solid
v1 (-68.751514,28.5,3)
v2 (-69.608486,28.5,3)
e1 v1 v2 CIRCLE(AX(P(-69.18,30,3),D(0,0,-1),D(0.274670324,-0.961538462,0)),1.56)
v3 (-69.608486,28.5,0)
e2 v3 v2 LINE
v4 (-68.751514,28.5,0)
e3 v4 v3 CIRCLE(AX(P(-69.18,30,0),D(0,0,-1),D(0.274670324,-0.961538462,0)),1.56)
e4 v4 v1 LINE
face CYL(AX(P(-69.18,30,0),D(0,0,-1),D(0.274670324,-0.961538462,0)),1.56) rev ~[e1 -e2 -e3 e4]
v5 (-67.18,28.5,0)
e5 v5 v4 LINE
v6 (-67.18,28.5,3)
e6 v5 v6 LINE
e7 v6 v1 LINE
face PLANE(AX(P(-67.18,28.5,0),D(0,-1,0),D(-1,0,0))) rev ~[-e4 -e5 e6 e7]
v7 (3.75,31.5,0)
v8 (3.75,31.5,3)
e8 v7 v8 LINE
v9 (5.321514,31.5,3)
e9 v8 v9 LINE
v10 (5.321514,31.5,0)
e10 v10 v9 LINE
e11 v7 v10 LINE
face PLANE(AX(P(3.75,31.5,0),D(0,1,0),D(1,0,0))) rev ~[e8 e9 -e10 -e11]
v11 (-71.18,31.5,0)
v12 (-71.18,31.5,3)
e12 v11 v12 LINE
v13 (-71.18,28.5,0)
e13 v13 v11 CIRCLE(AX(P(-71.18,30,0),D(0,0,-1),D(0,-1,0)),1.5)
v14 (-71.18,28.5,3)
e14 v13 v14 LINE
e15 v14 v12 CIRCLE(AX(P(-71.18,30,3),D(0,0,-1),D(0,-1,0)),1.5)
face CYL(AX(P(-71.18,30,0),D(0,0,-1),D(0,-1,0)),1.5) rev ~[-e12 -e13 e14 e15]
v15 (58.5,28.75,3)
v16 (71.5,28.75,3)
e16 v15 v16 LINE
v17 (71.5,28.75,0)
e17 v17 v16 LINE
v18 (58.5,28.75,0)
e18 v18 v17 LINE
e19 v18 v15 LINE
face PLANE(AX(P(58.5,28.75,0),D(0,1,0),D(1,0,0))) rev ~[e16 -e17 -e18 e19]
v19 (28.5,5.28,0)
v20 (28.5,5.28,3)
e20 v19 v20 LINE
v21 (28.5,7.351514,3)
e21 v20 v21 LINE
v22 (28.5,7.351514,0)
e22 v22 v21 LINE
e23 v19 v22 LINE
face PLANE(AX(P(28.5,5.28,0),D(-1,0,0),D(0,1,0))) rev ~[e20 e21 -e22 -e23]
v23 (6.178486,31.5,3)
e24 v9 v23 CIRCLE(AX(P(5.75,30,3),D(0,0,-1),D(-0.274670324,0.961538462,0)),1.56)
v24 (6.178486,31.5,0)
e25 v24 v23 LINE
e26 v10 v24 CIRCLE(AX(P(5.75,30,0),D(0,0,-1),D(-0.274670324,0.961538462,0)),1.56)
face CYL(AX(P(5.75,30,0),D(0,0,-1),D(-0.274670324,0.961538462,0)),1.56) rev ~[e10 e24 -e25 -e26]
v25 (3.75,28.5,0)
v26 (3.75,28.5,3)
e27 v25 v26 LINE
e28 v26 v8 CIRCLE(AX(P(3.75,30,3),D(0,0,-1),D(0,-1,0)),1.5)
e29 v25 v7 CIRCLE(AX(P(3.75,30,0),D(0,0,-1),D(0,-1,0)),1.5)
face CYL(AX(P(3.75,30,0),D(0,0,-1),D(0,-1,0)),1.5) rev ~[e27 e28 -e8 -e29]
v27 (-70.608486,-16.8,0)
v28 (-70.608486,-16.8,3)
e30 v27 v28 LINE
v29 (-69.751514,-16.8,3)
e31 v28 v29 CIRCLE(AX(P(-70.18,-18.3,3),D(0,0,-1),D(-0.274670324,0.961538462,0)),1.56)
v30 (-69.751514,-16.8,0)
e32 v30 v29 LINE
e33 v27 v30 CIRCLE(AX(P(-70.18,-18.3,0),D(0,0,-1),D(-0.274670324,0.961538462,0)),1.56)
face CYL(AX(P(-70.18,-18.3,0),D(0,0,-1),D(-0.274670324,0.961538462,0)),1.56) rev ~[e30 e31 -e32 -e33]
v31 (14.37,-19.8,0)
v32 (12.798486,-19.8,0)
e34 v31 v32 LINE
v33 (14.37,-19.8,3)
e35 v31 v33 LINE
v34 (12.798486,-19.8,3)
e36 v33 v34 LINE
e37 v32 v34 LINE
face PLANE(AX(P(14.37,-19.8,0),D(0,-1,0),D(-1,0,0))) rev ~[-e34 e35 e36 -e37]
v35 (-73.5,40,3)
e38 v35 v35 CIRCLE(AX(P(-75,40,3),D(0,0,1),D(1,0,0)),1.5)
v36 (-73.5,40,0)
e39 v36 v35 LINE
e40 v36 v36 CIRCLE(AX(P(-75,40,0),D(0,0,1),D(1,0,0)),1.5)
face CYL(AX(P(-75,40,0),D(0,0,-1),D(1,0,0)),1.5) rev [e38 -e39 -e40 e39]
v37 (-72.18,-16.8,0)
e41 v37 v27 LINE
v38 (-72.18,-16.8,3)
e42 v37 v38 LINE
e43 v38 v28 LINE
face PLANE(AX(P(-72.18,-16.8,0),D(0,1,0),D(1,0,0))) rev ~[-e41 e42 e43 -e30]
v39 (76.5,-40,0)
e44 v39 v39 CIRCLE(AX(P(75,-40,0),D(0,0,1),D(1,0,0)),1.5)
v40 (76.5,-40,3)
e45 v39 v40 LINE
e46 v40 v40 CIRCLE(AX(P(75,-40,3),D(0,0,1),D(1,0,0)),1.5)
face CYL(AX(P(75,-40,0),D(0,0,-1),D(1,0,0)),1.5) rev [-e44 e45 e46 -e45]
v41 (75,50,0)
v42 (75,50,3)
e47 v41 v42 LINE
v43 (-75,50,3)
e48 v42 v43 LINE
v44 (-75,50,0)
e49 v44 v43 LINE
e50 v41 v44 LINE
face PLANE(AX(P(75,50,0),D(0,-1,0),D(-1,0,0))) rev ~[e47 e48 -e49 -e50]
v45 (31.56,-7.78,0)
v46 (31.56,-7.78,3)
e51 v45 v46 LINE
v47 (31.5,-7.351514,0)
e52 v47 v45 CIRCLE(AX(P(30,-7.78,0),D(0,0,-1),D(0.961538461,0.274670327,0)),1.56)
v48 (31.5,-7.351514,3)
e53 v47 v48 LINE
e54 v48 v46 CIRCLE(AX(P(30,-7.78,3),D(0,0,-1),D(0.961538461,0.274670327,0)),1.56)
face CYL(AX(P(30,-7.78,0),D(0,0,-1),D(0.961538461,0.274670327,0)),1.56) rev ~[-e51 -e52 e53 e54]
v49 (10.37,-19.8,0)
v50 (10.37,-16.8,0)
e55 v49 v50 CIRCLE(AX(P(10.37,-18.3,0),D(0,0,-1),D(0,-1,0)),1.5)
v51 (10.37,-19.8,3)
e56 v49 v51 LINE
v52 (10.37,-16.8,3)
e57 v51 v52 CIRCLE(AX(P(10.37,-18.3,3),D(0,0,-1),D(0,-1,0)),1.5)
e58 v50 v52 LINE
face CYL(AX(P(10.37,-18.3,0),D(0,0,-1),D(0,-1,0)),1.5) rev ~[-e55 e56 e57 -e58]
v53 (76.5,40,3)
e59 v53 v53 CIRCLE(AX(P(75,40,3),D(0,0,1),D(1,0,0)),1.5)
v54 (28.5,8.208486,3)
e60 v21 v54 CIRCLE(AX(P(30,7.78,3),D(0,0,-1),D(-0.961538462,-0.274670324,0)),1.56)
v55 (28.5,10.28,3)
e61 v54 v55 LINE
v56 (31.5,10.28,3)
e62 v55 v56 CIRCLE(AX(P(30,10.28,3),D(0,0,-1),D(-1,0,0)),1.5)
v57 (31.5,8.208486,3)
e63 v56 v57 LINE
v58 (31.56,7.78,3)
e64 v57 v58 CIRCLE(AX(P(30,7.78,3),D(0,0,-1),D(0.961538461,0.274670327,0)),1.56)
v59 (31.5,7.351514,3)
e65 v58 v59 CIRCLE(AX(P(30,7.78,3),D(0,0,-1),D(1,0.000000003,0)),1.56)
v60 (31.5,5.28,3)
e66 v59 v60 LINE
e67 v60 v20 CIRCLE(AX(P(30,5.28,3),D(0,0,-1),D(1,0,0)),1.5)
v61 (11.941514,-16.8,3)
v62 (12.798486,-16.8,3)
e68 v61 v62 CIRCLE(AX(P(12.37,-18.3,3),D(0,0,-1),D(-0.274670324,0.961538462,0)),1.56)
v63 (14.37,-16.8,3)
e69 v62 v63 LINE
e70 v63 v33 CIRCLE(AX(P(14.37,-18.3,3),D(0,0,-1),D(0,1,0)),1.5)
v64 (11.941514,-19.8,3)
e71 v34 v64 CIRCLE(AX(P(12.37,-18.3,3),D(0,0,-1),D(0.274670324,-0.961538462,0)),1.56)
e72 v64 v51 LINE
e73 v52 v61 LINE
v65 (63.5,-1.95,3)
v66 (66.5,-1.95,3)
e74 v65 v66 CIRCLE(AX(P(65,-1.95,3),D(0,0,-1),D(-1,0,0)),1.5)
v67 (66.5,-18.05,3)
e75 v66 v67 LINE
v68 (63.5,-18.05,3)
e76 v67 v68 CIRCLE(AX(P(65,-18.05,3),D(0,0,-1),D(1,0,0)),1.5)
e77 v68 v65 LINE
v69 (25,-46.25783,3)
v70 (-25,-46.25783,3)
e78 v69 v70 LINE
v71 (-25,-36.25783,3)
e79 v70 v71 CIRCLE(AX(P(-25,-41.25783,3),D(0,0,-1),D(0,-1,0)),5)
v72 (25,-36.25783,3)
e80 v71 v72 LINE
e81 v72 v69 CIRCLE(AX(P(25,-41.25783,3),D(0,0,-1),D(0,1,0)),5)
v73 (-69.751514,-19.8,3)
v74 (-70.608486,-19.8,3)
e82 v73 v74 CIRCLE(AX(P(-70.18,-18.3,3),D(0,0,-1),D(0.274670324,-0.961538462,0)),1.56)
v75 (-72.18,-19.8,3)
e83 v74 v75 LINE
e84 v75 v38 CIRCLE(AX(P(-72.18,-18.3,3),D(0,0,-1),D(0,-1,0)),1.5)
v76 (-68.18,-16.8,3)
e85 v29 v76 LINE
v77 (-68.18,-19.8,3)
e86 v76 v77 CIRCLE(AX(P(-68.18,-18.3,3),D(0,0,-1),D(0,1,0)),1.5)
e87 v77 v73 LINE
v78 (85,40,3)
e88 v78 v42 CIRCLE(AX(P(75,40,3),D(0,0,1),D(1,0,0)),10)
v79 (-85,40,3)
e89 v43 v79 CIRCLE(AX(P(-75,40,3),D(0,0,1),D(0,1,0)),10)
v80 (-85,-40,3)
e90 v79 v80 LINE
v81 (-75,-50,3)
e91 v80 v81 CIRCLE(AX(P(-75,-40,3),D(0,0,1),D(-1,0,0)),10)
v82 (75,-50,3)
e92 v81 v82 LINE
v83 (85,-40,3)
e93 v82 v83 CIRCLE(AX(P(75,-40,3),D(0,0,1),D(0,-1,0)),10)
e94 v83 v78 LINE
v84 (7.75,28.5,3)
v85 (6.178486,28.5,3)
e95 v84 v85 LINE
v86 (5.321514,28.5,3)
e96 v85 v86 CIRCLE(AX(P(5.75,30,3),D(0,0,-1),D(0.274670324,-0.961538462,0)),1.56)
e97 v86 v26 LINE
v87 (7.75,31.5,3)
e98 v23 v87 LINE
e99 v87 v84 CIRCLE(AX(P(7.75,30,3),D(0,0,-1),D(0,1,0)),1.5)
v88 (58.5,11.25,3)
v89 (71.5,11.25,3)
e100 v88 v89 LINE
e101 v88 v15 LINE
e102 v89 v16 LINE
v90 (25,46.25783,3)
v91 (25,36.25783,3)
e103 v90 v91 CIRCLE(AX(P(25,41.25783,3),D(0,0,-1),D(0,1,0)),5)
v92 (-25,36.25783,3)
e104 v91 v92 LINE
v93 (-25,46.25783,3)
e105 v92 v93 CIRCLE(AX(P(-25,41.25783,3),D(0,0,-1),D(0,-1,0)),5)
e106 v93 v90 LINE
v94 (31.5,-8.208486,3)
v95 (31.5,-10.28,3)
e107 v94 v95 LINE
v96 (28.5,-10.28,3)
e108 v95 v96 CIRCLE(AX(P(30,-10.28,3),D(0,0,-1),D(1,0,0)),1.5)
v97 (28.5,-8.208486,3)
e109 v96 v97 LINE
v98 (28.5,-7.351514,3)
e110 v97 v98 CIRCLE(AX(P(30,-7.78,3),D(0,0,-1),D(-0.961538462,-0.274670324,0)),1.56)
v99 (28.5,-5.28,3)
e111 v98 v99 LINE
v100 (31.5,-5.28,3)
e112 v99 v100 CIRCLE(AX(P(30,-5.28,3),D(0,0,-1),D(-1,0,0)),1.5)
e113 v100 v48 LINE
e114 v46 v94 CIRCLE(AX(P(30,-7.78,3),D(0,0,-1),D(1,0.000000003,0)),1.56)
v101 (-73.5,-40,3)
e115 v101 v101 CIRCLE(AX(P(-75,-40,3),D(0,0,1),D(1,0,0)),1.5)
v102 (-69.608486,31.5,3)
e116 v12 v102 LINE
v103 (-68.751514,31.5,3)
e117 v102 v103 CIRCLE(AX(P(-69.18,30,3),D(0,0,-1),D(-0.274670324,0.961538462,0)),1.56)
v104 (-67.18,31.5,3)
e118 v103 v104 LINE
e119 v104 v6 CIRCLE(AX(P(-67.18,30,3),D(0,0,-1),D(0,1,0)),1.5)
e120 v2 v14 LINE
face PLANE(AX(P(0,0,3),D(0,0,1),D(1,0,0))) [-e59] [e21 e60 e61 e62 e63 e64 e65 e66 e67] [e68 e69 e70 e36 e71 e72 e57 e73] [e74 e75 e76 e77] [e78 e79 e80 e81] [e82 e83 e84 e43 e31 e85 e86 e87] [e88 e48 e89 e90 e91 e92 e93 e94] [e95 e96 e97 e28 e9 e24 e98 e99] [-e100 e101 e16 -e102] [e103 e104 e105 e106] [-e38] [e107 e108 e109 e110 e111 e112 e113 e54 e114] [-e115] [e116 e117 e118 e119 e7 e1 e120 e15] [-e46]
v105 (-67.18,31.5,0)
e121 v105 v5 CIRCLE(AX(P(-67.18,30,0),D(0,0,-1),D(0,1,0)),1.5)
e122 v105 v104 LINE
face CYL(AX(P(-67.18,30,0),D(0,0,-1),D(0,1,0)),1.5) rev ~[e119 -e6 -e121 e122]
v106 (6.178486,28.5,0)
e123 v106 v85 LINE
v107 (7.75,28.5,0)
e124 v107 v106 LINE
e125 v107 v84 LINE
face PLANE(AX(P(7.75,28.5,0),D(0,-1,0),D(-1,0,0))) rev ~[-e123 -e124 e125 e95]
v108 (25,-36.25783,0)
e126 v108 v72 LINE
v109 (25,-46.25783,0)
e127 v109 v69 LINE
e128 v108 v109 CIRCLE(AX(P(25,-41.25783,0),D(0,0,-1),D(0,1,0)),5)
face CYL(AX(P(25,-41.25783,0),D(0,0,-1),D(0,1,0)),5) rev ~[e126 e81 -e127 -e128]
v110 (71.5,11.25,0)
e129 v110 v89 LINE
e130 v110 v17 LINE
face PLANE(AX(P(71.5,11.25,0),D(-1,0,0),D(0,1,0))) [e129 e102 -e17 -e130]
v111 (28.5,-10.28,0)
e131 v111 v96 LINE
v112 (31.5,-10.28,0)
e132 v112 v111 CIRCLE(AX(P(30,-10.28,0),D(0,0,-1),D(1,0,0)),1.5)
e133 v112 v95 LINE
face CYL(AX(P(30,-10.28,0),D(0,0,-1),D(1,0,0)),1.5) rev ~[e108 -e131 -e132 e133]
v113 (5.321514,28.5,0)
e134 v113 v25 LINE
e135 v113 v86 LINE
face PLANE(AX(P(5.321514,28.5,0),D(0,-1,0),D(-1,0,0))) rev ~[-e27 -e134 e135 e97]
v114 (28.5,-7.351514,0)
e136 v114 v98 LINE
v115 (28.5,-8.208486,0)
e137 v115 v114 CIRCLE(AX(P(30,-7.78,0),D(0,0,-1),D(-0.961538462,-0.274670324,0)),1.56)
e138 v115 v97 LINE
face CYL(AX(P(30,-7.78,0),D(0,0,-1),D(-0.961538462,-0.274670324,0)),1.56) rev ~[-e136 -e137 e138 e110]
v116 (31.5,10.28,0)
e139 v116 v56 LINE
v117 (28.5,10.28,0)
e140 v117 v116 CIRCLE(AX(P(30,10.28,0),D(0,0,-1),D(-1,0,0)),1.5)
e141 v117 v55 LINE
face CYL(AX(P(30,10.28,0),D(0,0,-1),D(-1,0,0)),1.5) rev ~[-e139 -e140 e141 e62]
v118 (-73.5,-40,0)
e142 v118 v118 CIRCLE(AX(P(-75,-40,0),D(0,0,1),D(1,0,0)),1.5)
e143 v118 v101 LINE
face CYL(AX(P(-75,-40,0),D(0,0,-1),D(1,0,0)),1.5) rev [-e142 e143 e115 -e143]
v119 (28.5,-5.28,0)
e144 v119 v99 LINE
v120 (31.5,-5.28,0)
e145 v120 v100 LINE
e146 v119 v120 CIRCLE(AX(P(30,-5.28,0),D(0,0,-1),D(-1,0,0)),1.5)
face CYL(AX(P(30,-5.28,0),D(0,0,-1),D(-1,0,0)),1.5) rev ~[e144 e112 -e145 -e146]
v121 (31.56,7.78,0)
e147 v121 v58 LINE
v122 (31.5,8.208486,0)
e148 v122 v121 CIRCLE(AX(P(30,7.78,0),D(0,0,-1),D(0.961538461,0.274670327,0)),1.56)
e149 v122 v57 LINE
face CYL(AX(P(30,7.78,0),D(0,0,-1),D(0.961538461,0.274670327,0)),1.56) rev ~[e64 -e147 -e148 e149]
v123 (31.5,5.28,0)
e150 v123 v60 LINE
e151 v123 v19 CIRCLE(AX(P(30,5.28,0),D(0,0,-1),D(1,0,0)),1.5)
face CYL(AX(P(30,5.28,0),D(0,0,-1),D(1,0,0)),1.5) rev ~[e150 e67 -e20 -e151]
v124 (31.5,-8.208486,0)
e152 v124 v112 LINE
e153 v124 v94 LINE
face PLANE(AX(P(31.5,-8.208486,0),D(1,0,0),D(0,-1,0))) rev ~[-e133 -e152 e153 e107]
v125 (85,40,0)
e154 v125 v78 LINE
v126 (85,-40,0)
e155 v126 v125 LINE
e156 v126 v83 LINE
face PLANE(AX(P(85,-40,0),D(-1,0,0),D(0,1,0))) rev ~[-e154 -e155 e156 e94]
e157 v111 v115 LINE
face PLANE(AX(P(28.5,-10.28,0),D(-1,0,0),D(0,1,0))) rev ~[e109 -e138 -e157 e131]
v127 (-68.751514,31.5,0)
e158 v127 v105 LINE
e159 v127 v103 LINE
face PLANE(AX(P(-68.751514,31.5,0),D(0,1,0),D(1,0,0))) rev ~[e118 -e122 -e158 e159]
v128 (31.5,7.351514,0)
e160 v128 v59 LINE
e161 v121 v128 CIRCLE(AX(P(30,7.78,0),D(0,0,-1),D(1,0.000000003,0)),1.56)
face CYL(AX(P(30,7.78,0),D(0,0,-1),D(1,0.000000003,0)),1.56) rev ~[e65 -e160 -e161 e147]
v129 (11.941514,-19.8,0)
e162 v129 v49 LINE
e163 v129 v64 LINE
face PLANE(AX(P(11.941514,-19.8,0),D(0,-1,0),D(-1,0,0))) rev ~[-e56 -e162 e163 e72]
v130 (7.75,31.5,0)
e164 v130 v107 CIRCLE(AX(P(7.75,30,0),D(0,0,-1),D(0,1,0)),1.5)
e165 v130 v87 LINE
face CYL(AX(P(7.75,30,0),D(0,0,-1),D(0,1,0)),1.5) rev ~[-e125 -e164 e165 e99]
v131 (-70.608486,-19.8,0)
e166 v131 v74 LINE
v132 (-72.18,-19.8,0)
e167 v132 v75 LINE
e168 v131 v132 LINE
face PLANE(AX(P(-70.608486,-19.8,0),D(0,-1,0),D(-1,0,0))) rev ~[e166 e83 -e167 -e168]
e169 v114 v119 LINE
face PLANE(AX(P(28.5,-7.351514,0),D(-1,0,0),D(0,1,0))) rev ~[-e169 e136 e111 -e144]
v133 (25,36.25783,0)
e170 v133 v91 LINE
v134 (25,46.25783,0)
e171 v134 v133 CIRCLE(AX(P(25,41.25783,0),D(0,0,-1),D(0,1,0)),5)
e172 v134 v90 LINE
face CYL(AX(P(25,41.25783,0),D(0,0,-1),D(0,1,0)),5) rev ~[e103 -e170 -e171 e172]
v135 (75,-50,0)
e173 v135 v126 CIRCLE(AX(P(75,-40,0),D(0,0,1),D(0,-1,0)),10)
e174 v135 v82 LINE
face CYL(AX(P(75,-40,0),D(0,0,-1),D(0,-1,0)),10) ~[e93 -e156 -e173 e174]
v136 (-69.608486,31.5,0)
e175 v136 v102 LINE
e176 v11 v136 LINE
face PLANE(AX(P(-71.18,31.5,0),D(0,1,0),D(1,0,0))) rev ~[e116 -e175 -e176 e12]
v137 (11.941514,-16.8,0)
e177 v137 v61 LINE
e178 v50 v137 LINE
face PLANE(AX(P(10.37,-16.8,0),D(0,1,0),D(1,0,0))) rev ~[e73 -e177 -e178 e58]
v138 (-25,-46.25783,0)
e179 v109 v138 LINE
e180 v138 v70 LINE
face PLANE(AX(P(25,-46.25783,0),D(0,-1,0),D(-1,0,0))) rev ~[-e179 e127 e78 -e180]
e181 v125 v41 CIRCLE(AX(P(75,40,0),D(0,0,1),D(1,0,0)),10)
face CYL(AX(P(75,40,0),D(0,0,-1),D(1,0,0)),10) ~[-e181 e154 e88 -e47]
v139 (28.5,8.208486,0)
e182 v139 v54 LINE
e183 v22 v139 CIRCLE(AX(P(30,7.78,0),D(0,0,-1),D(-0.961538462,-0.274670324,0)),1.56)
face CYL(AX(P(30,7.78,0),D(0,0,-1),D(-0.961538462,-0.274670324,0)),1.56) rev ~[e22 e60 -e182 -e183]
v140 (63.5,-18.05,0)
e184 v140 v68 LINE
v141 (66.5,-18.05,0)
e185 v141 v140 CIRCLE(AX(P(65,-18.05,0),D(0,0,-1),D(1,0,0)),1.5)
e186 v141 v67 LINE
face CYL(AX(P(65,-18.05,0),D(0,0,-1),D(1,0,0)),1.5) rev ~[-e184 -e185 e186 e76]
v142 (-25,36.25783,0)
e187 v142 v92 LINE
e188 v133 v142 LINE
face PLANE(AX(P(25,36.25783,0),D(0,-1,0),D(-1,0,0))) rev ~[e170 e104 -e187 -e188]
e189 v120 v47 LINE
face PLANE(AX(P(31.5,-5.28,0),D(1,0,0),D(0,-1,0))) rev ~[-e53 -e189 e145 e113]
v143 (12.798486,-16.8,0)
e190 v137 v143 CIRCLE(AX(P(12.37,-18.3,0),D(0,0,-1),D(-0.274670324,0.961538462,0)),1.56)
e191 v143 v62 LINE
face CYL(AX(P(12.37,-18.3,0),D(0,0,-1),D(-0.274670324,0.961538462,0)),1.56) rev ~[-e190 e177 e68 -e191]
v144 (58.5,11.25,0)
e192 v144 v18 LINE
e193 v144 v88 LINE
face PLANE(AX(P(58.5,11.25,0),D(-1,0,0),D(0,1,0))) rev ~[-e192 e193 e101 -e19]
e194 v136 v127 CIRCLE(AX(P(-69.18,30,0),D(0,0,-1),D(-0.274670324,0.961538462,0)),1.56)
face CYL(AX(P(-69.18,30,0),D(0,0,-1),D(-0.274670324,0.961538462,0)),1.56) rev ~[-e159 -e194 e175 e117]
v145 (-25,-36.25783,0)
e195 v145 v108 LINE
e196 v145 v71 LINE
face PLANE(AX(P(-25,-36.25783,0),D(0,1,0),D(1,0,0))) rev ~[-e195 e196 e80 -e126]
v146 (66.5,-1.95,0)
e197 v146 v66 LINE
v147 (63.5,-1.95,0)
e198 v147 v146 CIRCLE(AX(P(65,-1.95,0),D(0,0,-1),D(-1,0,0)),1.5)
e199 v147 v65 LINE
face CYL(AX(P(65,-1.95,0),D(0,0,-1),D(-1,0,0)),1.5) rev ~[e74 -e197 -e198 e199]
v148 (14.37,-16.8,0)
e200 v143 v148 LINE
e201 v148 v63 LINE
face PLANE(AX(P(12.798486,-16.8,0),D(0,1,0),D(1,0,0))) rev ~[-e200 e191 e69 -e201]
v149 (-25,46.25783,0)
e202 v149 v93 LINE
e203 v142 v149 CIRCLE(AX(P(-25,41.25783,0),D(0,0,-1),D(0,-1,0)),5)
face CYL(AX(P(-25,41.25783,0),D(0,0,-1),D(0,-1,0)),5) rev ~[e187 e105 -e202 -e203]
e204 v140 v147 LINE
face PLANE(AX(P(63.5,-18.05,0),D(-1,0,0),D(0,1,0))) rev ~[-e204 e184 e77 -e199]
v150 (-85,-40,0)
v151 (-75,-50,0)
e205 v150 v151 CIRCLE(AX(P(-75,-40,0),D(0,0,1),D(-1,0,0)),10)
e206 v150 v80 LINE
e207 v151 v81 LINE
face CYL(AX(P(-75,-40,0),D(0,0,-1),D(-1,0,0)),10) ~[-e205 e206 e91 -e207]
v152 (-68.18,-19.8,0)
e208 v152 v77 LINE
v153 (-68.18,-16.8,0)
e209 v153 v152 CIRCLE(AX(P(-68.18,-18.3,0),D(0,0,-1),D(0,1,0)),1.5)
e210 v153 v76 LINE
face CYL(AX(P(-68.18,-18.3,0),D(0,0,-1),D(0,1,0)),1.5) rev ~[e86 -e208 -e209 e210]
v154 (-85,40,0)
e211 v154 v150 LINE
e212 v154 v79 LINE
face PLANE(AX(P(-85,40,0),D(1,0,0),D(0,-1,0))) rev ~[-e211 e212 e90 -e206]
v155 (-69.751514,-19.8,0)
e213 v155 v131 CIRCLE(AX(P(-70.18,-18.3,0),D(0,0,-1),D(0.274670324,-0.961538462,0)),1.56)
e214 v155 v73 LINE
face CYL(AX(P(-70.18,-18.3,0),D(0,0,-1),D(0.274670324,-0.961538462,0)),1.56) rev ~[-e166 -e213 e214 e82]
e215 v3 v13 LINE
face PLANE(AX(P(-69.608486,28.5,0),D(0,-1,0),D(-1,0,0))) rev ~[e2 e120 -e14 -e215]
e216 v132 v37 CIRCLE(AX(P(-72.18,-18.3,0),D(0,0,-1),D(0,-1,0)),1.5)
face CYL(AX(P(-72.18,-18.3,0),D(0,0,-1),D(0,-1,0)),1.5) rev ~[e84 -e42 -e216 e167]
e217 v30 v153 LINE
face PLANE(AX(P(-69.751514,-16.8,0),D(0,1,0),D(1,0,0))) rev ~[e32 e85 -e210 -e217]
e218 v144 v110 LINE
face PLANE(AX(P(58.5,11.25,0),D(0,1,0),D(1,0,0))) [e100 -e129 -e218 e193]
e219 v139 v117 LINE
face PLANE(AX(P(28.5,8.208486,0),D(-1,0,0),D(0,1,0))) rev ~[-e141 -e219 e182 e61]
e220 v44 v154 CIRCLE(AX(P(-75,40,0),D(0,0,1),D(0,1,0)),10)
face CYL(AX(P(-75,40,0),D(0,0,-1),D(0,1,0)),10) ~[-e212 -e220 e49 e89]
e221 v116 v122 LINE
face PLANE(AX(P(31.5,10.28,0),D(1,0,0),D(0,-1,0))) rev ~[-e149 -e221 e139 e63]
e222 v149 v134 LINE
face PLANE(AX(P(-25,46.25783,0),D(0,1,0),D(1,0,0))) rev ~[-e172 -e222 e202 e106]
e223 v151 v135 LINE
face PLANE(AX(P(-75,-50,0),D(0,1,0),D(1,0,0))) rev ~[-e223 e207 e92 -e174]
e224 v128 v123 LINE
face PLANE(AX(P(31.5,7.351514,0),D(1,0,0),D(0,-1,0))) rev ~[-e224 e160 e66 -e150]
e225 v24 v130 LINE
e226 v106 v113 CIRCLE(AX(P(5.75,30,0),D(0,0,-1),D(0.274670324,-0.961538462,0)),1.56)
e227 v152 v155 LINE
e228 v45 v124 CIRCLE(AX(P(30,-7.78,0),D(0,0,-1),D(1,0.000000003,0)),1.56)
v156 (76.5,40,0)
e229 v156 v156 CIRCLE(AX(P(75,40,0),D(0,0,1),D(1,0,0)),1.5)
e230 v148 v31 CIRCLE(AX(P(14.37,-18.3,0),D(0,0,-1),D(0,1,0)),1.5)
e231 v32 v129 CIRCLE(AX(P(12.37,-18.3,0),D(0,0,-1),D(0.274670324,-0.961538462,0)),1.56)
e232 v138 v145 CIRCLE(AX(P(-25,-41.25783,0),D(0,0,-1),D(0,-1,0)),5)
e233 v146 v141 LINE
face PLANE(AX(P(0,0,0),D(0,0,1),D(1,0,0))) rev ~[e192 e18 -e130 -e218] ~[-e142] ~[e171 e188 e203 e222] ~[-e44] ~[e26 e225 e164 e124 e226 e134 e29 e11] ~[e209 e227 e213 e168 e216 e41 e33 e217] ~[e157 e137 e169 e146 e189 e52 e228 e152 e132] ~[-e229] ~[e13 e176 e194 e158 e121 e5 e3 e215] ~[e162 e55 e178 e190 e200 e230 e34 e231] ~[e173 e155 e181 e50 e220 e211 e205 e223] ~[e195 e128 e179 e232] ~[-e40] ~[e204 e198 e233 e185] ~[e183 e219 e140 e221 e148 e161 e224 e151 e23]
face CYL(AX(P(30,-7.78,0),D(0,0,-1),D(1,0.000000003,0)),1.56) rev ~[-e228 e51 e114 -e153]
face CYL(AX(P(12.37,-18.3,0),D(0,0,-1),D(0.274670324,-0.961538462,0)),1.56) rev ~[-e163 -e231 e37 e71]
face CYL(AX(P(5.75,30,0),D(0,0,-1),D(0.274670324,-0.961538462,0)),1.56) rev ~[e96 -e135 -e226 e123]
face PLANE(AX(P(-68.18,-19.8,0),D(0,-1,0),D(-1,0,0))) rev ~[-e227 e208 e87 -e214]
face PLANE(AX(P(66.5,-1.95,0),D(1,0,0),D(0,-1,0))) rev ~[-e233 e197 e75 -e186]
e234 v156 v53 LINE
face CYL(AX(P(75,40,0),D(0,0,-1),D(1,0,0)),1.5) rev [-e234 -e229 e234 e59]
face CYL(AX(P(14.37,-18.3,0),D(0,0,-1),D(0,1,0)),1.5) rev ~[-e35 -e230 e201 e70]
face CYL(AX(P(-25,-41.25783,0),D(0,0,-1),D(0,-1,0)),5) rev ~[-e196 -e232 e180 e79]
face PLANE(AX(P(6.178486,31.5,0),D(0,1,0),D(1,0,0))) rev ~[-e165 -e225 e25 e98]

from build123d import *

# Parameters (mm, degrees)
SKETCH1_R           = 1.5
SKETCH1_W           = 13
SKETCH1_H           = 17.5
BOSS_EXTRUDE1_DEPTH = 3


with BuildPart() as part:
    # Sketch1 → Boss-Extrude1 (new body)
    with BuildSketch(Plane.XY):
        with BuildLine():
            Line((75, 50), (-75, 50))
            ThreePointArc((-75, 50), (-82.071067812, 47.071067812), (-85, 40))
            Line((-85, 40), (-85, -40))
            ThreePointArc((-85, -40), (-82.071067812, -47.071067812), (-75, -50))
            Line((-75, -50), (75, -50))
            ThreePointArc((75, -50), (82.071067812, -47.071067812), (85, -40))
            Line((85, -40), (85, 40))
            ThreePointArc((85, 40), (82.071067812, 47.071067812), (75, 50))
        make_face()
        with Locations((-75, -40)):
            Circle(SKETCH1_R, mode=Mode.SUBTRACT)
        with BuildLine():
            ThreePointArc((-72.18, -19.8), (-73.68, -18.3), (-72.18, -16.8))
            Line((-72.18, -16.8), (-70.608485706, -16.8))
            ThreePointArc((-70.608485706, -16.8), (-70.18, -16.74), (-69.751514294, -16.8))
            Line((-69.751514294, -16.8), (-68.18, -16.8))
            ThreePointArc((-68.18, -16.8), (-66.68, -18.3), (-68.18, -19.8))
            Line((-68.18, -19.8), (-69.751514294, -19.8))
            ThreePointArc((-69.751514294, -19.8), (-70.18, -19.86), (-70.608485706, -19.8))
            Line((-70.608485706, -19.8), (-72.18, -19.8))
        make_face(mode=Mode.SUBTRACT)
        with BuildLine():
            Line((25, -46.257829906), (-25, -46.257829906))
            ThreePointArc((-25, -46.257829906), (-30, -41.257829906), (-25, -36.257829906))
            Line((-25, -36.257829906), (25, -36.257829906))
            ThreePointArc((25, -36.257829906), (30, -41.257829906), (25, -46.257829906))
        make_face(mode=Mode.SUBTRACT)
        with Locations((75, -40)):
            Circle(SKETCH1_R, mode=Mode.SUBTRACT)
        with BuildLine():
            ThreePointArc((10.37, -19.8), (8.87, -18.3), (10.37, -16.8))
            Line((10.37, -16.8), (11.941514294, -16.8))
            ThreePointArc((11.941514294, -16.8), (12.37, -16.74), (12.798485706, -16.8))
            Line((12.798485706, -16.8), (14.37, -16.8))
            ThreePointArc((14.37, -16.8), (15.87, -18.3), (14.37, -19.8))
            Line((14.37, -19.8), (12.798485706, -19.8))
            ThreePointArc((12.798485706, -19.8), (12.37, -19.86), (11.941514294, -19.8))
            Line((11.941514294, -19.8), (10.37, -19.8))
        make_face(mode=Mode.SUBTRACT)
        with BuildLine():
            Line((28.5, -7.351514294), (28.5, -5.28))
            ThreePointArc((28.5, -5.28), (30, -3.78), (31.5, -5.28))
            Line((31.5, -5.28), (31.5, -7.351514294))
            ThreePointArc((31.5, -7.351514294), (31.544927183, -7.563666923), (31.56, -7.78))
            ThreePointArc((31.56, -7.78), (31.544927183, -7.996333077), (31.5, -8.208485706))
            Line((31.5, -8.208485706), (31.5, -10.28))
            ThreePointArc((31.5, -10.28), (30, -11.78), (28.5, -10.28))
            Line((28.5, -10.28), (28.5, -8.208485706))
            ThreePointArc((28.5, -8.208485706), (28.44, -7.78), (28.5, -7.351514294))
        make_face(mode=Mode.SUBTRACT)
        with BuildLine():
            ThreePointArc((63.5, -1.95), (65, -0.45), (66.5, -1.95))
            Line((66.5, -1.95), (66.5, -18.05))
            ThreePointArc((66.5, -18.05), (65, -19.55), (63.5, -18.05))
            Line((63.5, -18.05), (63.5, -1.95))
        make_face(mode=Mode.SUBTRACT)
        with BuildLine():
            ThreePointArc((-67.18, 31.5), (-65.68, 30), (-67.18, 28.5))
            Line((-67.18, 28.5), (-68.751514294, 28.5))
            ThreePointArc((-68.751514294, 28.5), (-69.18, 28.44), (-69.608485706, 28.5))
            Line((-69.608485706, 28.5), (-71.18, 28.5))
            ThreePointArc((-71.18, 28.5), (-72.68, 30), (-71.18, 31.5))
            Line((-71.18, 31.5), (-69.608485706, 31.5))
            ThreePointArc((-69.608485706, 31.5), (-69.18, 31.56), (-68.751514294, 31.5))
            Line((-68.751514294, 31.5), (-67.18, 31.5))
        make_face(mode=Mode.SUBTRACT)
        with Locations((-75, 40)):
            Circle(SKETCH1_R, mode=Mode.SUBTRACT)
        with BuildLine():
            ThreePointArc((31.5, 5.28), (30, 3.78), (28.5, 5.28))
            Line((28.5, 5.28), (28.5, 7.351514294))
            ThreePointArc((28.5, 7.351514294), (28.44, 7.78), (28.5, 8.208485706))
            Line((28.5, 8.208485706), (28.5, 10.28))
            ThreePointArc((28.5, 10.28), (30, 11.78), (31.5, 10.28))
            Line((31.5, 10.28), (31.5, 8.208485706))
            ThreePointArc((31.5, 8.208485706), (31.544927183, 7.996333077), (31.56, 7.78))
            ThreePointArc((31.56, 7.78), (31.544927183, 7.563666923), (31.5, 7.351514294))
            Line((31.5, 7.351514294), (31.5, 5.28))
        make_face(mode=Mode.SUBTRACT)
        with Locations((65, 20)):
            Rectangle(SKETCH1_W, SKETCH1_H, mode=Mode.SUBTRACT)
        with BuildLine():
            ThreePointArc((3.75, 28.5), (2.25, 30), (3.75, 31.5))
            Line((3.75, 31.5), (5.321514294, 31.5))
            ThreePointArc((5.321514294, 31.5), (5.75, 31.56), (6.178485706, 31.5))
            Line((6.178485706, 31.5), (7.75, 31.5))
            ThreePointArc((7.75, 31.5), (9.25, 30), (7.75, 28.5))
            Line((7.75, 28.5), (6.178485706, 28.5))
            ThreePointArc((6.178485706, 28.5), (5.75, 28.44), (5.321514294, 28.5))
            Line((5.321514294, 28.5), (3.75, 28.5))
        make_face(mode=Mode.SUBTRACT)
        with BuildLine():
            ThreePointArc((-25, 36.257829906), (-30, 41.257829906), (-25, 46.257829906))
            Line((-25, 46.257829906), (25, 46.257829906))
            ThreePointArc((25, 46.257829906), (30, 41.257829906), (25, 36.257829906))
            Line((25, 36.257829906), (-25, 36.257829906))
        make_face(mode=Mode.SUBTRACT)
        with Locations((75, 40)):
            Circle(SKETCH1_R, mode=Mode.SUBTRACT)
    extrude(amount=BOSS_EXTRUDE1_DEPTH)


solid = part.part
